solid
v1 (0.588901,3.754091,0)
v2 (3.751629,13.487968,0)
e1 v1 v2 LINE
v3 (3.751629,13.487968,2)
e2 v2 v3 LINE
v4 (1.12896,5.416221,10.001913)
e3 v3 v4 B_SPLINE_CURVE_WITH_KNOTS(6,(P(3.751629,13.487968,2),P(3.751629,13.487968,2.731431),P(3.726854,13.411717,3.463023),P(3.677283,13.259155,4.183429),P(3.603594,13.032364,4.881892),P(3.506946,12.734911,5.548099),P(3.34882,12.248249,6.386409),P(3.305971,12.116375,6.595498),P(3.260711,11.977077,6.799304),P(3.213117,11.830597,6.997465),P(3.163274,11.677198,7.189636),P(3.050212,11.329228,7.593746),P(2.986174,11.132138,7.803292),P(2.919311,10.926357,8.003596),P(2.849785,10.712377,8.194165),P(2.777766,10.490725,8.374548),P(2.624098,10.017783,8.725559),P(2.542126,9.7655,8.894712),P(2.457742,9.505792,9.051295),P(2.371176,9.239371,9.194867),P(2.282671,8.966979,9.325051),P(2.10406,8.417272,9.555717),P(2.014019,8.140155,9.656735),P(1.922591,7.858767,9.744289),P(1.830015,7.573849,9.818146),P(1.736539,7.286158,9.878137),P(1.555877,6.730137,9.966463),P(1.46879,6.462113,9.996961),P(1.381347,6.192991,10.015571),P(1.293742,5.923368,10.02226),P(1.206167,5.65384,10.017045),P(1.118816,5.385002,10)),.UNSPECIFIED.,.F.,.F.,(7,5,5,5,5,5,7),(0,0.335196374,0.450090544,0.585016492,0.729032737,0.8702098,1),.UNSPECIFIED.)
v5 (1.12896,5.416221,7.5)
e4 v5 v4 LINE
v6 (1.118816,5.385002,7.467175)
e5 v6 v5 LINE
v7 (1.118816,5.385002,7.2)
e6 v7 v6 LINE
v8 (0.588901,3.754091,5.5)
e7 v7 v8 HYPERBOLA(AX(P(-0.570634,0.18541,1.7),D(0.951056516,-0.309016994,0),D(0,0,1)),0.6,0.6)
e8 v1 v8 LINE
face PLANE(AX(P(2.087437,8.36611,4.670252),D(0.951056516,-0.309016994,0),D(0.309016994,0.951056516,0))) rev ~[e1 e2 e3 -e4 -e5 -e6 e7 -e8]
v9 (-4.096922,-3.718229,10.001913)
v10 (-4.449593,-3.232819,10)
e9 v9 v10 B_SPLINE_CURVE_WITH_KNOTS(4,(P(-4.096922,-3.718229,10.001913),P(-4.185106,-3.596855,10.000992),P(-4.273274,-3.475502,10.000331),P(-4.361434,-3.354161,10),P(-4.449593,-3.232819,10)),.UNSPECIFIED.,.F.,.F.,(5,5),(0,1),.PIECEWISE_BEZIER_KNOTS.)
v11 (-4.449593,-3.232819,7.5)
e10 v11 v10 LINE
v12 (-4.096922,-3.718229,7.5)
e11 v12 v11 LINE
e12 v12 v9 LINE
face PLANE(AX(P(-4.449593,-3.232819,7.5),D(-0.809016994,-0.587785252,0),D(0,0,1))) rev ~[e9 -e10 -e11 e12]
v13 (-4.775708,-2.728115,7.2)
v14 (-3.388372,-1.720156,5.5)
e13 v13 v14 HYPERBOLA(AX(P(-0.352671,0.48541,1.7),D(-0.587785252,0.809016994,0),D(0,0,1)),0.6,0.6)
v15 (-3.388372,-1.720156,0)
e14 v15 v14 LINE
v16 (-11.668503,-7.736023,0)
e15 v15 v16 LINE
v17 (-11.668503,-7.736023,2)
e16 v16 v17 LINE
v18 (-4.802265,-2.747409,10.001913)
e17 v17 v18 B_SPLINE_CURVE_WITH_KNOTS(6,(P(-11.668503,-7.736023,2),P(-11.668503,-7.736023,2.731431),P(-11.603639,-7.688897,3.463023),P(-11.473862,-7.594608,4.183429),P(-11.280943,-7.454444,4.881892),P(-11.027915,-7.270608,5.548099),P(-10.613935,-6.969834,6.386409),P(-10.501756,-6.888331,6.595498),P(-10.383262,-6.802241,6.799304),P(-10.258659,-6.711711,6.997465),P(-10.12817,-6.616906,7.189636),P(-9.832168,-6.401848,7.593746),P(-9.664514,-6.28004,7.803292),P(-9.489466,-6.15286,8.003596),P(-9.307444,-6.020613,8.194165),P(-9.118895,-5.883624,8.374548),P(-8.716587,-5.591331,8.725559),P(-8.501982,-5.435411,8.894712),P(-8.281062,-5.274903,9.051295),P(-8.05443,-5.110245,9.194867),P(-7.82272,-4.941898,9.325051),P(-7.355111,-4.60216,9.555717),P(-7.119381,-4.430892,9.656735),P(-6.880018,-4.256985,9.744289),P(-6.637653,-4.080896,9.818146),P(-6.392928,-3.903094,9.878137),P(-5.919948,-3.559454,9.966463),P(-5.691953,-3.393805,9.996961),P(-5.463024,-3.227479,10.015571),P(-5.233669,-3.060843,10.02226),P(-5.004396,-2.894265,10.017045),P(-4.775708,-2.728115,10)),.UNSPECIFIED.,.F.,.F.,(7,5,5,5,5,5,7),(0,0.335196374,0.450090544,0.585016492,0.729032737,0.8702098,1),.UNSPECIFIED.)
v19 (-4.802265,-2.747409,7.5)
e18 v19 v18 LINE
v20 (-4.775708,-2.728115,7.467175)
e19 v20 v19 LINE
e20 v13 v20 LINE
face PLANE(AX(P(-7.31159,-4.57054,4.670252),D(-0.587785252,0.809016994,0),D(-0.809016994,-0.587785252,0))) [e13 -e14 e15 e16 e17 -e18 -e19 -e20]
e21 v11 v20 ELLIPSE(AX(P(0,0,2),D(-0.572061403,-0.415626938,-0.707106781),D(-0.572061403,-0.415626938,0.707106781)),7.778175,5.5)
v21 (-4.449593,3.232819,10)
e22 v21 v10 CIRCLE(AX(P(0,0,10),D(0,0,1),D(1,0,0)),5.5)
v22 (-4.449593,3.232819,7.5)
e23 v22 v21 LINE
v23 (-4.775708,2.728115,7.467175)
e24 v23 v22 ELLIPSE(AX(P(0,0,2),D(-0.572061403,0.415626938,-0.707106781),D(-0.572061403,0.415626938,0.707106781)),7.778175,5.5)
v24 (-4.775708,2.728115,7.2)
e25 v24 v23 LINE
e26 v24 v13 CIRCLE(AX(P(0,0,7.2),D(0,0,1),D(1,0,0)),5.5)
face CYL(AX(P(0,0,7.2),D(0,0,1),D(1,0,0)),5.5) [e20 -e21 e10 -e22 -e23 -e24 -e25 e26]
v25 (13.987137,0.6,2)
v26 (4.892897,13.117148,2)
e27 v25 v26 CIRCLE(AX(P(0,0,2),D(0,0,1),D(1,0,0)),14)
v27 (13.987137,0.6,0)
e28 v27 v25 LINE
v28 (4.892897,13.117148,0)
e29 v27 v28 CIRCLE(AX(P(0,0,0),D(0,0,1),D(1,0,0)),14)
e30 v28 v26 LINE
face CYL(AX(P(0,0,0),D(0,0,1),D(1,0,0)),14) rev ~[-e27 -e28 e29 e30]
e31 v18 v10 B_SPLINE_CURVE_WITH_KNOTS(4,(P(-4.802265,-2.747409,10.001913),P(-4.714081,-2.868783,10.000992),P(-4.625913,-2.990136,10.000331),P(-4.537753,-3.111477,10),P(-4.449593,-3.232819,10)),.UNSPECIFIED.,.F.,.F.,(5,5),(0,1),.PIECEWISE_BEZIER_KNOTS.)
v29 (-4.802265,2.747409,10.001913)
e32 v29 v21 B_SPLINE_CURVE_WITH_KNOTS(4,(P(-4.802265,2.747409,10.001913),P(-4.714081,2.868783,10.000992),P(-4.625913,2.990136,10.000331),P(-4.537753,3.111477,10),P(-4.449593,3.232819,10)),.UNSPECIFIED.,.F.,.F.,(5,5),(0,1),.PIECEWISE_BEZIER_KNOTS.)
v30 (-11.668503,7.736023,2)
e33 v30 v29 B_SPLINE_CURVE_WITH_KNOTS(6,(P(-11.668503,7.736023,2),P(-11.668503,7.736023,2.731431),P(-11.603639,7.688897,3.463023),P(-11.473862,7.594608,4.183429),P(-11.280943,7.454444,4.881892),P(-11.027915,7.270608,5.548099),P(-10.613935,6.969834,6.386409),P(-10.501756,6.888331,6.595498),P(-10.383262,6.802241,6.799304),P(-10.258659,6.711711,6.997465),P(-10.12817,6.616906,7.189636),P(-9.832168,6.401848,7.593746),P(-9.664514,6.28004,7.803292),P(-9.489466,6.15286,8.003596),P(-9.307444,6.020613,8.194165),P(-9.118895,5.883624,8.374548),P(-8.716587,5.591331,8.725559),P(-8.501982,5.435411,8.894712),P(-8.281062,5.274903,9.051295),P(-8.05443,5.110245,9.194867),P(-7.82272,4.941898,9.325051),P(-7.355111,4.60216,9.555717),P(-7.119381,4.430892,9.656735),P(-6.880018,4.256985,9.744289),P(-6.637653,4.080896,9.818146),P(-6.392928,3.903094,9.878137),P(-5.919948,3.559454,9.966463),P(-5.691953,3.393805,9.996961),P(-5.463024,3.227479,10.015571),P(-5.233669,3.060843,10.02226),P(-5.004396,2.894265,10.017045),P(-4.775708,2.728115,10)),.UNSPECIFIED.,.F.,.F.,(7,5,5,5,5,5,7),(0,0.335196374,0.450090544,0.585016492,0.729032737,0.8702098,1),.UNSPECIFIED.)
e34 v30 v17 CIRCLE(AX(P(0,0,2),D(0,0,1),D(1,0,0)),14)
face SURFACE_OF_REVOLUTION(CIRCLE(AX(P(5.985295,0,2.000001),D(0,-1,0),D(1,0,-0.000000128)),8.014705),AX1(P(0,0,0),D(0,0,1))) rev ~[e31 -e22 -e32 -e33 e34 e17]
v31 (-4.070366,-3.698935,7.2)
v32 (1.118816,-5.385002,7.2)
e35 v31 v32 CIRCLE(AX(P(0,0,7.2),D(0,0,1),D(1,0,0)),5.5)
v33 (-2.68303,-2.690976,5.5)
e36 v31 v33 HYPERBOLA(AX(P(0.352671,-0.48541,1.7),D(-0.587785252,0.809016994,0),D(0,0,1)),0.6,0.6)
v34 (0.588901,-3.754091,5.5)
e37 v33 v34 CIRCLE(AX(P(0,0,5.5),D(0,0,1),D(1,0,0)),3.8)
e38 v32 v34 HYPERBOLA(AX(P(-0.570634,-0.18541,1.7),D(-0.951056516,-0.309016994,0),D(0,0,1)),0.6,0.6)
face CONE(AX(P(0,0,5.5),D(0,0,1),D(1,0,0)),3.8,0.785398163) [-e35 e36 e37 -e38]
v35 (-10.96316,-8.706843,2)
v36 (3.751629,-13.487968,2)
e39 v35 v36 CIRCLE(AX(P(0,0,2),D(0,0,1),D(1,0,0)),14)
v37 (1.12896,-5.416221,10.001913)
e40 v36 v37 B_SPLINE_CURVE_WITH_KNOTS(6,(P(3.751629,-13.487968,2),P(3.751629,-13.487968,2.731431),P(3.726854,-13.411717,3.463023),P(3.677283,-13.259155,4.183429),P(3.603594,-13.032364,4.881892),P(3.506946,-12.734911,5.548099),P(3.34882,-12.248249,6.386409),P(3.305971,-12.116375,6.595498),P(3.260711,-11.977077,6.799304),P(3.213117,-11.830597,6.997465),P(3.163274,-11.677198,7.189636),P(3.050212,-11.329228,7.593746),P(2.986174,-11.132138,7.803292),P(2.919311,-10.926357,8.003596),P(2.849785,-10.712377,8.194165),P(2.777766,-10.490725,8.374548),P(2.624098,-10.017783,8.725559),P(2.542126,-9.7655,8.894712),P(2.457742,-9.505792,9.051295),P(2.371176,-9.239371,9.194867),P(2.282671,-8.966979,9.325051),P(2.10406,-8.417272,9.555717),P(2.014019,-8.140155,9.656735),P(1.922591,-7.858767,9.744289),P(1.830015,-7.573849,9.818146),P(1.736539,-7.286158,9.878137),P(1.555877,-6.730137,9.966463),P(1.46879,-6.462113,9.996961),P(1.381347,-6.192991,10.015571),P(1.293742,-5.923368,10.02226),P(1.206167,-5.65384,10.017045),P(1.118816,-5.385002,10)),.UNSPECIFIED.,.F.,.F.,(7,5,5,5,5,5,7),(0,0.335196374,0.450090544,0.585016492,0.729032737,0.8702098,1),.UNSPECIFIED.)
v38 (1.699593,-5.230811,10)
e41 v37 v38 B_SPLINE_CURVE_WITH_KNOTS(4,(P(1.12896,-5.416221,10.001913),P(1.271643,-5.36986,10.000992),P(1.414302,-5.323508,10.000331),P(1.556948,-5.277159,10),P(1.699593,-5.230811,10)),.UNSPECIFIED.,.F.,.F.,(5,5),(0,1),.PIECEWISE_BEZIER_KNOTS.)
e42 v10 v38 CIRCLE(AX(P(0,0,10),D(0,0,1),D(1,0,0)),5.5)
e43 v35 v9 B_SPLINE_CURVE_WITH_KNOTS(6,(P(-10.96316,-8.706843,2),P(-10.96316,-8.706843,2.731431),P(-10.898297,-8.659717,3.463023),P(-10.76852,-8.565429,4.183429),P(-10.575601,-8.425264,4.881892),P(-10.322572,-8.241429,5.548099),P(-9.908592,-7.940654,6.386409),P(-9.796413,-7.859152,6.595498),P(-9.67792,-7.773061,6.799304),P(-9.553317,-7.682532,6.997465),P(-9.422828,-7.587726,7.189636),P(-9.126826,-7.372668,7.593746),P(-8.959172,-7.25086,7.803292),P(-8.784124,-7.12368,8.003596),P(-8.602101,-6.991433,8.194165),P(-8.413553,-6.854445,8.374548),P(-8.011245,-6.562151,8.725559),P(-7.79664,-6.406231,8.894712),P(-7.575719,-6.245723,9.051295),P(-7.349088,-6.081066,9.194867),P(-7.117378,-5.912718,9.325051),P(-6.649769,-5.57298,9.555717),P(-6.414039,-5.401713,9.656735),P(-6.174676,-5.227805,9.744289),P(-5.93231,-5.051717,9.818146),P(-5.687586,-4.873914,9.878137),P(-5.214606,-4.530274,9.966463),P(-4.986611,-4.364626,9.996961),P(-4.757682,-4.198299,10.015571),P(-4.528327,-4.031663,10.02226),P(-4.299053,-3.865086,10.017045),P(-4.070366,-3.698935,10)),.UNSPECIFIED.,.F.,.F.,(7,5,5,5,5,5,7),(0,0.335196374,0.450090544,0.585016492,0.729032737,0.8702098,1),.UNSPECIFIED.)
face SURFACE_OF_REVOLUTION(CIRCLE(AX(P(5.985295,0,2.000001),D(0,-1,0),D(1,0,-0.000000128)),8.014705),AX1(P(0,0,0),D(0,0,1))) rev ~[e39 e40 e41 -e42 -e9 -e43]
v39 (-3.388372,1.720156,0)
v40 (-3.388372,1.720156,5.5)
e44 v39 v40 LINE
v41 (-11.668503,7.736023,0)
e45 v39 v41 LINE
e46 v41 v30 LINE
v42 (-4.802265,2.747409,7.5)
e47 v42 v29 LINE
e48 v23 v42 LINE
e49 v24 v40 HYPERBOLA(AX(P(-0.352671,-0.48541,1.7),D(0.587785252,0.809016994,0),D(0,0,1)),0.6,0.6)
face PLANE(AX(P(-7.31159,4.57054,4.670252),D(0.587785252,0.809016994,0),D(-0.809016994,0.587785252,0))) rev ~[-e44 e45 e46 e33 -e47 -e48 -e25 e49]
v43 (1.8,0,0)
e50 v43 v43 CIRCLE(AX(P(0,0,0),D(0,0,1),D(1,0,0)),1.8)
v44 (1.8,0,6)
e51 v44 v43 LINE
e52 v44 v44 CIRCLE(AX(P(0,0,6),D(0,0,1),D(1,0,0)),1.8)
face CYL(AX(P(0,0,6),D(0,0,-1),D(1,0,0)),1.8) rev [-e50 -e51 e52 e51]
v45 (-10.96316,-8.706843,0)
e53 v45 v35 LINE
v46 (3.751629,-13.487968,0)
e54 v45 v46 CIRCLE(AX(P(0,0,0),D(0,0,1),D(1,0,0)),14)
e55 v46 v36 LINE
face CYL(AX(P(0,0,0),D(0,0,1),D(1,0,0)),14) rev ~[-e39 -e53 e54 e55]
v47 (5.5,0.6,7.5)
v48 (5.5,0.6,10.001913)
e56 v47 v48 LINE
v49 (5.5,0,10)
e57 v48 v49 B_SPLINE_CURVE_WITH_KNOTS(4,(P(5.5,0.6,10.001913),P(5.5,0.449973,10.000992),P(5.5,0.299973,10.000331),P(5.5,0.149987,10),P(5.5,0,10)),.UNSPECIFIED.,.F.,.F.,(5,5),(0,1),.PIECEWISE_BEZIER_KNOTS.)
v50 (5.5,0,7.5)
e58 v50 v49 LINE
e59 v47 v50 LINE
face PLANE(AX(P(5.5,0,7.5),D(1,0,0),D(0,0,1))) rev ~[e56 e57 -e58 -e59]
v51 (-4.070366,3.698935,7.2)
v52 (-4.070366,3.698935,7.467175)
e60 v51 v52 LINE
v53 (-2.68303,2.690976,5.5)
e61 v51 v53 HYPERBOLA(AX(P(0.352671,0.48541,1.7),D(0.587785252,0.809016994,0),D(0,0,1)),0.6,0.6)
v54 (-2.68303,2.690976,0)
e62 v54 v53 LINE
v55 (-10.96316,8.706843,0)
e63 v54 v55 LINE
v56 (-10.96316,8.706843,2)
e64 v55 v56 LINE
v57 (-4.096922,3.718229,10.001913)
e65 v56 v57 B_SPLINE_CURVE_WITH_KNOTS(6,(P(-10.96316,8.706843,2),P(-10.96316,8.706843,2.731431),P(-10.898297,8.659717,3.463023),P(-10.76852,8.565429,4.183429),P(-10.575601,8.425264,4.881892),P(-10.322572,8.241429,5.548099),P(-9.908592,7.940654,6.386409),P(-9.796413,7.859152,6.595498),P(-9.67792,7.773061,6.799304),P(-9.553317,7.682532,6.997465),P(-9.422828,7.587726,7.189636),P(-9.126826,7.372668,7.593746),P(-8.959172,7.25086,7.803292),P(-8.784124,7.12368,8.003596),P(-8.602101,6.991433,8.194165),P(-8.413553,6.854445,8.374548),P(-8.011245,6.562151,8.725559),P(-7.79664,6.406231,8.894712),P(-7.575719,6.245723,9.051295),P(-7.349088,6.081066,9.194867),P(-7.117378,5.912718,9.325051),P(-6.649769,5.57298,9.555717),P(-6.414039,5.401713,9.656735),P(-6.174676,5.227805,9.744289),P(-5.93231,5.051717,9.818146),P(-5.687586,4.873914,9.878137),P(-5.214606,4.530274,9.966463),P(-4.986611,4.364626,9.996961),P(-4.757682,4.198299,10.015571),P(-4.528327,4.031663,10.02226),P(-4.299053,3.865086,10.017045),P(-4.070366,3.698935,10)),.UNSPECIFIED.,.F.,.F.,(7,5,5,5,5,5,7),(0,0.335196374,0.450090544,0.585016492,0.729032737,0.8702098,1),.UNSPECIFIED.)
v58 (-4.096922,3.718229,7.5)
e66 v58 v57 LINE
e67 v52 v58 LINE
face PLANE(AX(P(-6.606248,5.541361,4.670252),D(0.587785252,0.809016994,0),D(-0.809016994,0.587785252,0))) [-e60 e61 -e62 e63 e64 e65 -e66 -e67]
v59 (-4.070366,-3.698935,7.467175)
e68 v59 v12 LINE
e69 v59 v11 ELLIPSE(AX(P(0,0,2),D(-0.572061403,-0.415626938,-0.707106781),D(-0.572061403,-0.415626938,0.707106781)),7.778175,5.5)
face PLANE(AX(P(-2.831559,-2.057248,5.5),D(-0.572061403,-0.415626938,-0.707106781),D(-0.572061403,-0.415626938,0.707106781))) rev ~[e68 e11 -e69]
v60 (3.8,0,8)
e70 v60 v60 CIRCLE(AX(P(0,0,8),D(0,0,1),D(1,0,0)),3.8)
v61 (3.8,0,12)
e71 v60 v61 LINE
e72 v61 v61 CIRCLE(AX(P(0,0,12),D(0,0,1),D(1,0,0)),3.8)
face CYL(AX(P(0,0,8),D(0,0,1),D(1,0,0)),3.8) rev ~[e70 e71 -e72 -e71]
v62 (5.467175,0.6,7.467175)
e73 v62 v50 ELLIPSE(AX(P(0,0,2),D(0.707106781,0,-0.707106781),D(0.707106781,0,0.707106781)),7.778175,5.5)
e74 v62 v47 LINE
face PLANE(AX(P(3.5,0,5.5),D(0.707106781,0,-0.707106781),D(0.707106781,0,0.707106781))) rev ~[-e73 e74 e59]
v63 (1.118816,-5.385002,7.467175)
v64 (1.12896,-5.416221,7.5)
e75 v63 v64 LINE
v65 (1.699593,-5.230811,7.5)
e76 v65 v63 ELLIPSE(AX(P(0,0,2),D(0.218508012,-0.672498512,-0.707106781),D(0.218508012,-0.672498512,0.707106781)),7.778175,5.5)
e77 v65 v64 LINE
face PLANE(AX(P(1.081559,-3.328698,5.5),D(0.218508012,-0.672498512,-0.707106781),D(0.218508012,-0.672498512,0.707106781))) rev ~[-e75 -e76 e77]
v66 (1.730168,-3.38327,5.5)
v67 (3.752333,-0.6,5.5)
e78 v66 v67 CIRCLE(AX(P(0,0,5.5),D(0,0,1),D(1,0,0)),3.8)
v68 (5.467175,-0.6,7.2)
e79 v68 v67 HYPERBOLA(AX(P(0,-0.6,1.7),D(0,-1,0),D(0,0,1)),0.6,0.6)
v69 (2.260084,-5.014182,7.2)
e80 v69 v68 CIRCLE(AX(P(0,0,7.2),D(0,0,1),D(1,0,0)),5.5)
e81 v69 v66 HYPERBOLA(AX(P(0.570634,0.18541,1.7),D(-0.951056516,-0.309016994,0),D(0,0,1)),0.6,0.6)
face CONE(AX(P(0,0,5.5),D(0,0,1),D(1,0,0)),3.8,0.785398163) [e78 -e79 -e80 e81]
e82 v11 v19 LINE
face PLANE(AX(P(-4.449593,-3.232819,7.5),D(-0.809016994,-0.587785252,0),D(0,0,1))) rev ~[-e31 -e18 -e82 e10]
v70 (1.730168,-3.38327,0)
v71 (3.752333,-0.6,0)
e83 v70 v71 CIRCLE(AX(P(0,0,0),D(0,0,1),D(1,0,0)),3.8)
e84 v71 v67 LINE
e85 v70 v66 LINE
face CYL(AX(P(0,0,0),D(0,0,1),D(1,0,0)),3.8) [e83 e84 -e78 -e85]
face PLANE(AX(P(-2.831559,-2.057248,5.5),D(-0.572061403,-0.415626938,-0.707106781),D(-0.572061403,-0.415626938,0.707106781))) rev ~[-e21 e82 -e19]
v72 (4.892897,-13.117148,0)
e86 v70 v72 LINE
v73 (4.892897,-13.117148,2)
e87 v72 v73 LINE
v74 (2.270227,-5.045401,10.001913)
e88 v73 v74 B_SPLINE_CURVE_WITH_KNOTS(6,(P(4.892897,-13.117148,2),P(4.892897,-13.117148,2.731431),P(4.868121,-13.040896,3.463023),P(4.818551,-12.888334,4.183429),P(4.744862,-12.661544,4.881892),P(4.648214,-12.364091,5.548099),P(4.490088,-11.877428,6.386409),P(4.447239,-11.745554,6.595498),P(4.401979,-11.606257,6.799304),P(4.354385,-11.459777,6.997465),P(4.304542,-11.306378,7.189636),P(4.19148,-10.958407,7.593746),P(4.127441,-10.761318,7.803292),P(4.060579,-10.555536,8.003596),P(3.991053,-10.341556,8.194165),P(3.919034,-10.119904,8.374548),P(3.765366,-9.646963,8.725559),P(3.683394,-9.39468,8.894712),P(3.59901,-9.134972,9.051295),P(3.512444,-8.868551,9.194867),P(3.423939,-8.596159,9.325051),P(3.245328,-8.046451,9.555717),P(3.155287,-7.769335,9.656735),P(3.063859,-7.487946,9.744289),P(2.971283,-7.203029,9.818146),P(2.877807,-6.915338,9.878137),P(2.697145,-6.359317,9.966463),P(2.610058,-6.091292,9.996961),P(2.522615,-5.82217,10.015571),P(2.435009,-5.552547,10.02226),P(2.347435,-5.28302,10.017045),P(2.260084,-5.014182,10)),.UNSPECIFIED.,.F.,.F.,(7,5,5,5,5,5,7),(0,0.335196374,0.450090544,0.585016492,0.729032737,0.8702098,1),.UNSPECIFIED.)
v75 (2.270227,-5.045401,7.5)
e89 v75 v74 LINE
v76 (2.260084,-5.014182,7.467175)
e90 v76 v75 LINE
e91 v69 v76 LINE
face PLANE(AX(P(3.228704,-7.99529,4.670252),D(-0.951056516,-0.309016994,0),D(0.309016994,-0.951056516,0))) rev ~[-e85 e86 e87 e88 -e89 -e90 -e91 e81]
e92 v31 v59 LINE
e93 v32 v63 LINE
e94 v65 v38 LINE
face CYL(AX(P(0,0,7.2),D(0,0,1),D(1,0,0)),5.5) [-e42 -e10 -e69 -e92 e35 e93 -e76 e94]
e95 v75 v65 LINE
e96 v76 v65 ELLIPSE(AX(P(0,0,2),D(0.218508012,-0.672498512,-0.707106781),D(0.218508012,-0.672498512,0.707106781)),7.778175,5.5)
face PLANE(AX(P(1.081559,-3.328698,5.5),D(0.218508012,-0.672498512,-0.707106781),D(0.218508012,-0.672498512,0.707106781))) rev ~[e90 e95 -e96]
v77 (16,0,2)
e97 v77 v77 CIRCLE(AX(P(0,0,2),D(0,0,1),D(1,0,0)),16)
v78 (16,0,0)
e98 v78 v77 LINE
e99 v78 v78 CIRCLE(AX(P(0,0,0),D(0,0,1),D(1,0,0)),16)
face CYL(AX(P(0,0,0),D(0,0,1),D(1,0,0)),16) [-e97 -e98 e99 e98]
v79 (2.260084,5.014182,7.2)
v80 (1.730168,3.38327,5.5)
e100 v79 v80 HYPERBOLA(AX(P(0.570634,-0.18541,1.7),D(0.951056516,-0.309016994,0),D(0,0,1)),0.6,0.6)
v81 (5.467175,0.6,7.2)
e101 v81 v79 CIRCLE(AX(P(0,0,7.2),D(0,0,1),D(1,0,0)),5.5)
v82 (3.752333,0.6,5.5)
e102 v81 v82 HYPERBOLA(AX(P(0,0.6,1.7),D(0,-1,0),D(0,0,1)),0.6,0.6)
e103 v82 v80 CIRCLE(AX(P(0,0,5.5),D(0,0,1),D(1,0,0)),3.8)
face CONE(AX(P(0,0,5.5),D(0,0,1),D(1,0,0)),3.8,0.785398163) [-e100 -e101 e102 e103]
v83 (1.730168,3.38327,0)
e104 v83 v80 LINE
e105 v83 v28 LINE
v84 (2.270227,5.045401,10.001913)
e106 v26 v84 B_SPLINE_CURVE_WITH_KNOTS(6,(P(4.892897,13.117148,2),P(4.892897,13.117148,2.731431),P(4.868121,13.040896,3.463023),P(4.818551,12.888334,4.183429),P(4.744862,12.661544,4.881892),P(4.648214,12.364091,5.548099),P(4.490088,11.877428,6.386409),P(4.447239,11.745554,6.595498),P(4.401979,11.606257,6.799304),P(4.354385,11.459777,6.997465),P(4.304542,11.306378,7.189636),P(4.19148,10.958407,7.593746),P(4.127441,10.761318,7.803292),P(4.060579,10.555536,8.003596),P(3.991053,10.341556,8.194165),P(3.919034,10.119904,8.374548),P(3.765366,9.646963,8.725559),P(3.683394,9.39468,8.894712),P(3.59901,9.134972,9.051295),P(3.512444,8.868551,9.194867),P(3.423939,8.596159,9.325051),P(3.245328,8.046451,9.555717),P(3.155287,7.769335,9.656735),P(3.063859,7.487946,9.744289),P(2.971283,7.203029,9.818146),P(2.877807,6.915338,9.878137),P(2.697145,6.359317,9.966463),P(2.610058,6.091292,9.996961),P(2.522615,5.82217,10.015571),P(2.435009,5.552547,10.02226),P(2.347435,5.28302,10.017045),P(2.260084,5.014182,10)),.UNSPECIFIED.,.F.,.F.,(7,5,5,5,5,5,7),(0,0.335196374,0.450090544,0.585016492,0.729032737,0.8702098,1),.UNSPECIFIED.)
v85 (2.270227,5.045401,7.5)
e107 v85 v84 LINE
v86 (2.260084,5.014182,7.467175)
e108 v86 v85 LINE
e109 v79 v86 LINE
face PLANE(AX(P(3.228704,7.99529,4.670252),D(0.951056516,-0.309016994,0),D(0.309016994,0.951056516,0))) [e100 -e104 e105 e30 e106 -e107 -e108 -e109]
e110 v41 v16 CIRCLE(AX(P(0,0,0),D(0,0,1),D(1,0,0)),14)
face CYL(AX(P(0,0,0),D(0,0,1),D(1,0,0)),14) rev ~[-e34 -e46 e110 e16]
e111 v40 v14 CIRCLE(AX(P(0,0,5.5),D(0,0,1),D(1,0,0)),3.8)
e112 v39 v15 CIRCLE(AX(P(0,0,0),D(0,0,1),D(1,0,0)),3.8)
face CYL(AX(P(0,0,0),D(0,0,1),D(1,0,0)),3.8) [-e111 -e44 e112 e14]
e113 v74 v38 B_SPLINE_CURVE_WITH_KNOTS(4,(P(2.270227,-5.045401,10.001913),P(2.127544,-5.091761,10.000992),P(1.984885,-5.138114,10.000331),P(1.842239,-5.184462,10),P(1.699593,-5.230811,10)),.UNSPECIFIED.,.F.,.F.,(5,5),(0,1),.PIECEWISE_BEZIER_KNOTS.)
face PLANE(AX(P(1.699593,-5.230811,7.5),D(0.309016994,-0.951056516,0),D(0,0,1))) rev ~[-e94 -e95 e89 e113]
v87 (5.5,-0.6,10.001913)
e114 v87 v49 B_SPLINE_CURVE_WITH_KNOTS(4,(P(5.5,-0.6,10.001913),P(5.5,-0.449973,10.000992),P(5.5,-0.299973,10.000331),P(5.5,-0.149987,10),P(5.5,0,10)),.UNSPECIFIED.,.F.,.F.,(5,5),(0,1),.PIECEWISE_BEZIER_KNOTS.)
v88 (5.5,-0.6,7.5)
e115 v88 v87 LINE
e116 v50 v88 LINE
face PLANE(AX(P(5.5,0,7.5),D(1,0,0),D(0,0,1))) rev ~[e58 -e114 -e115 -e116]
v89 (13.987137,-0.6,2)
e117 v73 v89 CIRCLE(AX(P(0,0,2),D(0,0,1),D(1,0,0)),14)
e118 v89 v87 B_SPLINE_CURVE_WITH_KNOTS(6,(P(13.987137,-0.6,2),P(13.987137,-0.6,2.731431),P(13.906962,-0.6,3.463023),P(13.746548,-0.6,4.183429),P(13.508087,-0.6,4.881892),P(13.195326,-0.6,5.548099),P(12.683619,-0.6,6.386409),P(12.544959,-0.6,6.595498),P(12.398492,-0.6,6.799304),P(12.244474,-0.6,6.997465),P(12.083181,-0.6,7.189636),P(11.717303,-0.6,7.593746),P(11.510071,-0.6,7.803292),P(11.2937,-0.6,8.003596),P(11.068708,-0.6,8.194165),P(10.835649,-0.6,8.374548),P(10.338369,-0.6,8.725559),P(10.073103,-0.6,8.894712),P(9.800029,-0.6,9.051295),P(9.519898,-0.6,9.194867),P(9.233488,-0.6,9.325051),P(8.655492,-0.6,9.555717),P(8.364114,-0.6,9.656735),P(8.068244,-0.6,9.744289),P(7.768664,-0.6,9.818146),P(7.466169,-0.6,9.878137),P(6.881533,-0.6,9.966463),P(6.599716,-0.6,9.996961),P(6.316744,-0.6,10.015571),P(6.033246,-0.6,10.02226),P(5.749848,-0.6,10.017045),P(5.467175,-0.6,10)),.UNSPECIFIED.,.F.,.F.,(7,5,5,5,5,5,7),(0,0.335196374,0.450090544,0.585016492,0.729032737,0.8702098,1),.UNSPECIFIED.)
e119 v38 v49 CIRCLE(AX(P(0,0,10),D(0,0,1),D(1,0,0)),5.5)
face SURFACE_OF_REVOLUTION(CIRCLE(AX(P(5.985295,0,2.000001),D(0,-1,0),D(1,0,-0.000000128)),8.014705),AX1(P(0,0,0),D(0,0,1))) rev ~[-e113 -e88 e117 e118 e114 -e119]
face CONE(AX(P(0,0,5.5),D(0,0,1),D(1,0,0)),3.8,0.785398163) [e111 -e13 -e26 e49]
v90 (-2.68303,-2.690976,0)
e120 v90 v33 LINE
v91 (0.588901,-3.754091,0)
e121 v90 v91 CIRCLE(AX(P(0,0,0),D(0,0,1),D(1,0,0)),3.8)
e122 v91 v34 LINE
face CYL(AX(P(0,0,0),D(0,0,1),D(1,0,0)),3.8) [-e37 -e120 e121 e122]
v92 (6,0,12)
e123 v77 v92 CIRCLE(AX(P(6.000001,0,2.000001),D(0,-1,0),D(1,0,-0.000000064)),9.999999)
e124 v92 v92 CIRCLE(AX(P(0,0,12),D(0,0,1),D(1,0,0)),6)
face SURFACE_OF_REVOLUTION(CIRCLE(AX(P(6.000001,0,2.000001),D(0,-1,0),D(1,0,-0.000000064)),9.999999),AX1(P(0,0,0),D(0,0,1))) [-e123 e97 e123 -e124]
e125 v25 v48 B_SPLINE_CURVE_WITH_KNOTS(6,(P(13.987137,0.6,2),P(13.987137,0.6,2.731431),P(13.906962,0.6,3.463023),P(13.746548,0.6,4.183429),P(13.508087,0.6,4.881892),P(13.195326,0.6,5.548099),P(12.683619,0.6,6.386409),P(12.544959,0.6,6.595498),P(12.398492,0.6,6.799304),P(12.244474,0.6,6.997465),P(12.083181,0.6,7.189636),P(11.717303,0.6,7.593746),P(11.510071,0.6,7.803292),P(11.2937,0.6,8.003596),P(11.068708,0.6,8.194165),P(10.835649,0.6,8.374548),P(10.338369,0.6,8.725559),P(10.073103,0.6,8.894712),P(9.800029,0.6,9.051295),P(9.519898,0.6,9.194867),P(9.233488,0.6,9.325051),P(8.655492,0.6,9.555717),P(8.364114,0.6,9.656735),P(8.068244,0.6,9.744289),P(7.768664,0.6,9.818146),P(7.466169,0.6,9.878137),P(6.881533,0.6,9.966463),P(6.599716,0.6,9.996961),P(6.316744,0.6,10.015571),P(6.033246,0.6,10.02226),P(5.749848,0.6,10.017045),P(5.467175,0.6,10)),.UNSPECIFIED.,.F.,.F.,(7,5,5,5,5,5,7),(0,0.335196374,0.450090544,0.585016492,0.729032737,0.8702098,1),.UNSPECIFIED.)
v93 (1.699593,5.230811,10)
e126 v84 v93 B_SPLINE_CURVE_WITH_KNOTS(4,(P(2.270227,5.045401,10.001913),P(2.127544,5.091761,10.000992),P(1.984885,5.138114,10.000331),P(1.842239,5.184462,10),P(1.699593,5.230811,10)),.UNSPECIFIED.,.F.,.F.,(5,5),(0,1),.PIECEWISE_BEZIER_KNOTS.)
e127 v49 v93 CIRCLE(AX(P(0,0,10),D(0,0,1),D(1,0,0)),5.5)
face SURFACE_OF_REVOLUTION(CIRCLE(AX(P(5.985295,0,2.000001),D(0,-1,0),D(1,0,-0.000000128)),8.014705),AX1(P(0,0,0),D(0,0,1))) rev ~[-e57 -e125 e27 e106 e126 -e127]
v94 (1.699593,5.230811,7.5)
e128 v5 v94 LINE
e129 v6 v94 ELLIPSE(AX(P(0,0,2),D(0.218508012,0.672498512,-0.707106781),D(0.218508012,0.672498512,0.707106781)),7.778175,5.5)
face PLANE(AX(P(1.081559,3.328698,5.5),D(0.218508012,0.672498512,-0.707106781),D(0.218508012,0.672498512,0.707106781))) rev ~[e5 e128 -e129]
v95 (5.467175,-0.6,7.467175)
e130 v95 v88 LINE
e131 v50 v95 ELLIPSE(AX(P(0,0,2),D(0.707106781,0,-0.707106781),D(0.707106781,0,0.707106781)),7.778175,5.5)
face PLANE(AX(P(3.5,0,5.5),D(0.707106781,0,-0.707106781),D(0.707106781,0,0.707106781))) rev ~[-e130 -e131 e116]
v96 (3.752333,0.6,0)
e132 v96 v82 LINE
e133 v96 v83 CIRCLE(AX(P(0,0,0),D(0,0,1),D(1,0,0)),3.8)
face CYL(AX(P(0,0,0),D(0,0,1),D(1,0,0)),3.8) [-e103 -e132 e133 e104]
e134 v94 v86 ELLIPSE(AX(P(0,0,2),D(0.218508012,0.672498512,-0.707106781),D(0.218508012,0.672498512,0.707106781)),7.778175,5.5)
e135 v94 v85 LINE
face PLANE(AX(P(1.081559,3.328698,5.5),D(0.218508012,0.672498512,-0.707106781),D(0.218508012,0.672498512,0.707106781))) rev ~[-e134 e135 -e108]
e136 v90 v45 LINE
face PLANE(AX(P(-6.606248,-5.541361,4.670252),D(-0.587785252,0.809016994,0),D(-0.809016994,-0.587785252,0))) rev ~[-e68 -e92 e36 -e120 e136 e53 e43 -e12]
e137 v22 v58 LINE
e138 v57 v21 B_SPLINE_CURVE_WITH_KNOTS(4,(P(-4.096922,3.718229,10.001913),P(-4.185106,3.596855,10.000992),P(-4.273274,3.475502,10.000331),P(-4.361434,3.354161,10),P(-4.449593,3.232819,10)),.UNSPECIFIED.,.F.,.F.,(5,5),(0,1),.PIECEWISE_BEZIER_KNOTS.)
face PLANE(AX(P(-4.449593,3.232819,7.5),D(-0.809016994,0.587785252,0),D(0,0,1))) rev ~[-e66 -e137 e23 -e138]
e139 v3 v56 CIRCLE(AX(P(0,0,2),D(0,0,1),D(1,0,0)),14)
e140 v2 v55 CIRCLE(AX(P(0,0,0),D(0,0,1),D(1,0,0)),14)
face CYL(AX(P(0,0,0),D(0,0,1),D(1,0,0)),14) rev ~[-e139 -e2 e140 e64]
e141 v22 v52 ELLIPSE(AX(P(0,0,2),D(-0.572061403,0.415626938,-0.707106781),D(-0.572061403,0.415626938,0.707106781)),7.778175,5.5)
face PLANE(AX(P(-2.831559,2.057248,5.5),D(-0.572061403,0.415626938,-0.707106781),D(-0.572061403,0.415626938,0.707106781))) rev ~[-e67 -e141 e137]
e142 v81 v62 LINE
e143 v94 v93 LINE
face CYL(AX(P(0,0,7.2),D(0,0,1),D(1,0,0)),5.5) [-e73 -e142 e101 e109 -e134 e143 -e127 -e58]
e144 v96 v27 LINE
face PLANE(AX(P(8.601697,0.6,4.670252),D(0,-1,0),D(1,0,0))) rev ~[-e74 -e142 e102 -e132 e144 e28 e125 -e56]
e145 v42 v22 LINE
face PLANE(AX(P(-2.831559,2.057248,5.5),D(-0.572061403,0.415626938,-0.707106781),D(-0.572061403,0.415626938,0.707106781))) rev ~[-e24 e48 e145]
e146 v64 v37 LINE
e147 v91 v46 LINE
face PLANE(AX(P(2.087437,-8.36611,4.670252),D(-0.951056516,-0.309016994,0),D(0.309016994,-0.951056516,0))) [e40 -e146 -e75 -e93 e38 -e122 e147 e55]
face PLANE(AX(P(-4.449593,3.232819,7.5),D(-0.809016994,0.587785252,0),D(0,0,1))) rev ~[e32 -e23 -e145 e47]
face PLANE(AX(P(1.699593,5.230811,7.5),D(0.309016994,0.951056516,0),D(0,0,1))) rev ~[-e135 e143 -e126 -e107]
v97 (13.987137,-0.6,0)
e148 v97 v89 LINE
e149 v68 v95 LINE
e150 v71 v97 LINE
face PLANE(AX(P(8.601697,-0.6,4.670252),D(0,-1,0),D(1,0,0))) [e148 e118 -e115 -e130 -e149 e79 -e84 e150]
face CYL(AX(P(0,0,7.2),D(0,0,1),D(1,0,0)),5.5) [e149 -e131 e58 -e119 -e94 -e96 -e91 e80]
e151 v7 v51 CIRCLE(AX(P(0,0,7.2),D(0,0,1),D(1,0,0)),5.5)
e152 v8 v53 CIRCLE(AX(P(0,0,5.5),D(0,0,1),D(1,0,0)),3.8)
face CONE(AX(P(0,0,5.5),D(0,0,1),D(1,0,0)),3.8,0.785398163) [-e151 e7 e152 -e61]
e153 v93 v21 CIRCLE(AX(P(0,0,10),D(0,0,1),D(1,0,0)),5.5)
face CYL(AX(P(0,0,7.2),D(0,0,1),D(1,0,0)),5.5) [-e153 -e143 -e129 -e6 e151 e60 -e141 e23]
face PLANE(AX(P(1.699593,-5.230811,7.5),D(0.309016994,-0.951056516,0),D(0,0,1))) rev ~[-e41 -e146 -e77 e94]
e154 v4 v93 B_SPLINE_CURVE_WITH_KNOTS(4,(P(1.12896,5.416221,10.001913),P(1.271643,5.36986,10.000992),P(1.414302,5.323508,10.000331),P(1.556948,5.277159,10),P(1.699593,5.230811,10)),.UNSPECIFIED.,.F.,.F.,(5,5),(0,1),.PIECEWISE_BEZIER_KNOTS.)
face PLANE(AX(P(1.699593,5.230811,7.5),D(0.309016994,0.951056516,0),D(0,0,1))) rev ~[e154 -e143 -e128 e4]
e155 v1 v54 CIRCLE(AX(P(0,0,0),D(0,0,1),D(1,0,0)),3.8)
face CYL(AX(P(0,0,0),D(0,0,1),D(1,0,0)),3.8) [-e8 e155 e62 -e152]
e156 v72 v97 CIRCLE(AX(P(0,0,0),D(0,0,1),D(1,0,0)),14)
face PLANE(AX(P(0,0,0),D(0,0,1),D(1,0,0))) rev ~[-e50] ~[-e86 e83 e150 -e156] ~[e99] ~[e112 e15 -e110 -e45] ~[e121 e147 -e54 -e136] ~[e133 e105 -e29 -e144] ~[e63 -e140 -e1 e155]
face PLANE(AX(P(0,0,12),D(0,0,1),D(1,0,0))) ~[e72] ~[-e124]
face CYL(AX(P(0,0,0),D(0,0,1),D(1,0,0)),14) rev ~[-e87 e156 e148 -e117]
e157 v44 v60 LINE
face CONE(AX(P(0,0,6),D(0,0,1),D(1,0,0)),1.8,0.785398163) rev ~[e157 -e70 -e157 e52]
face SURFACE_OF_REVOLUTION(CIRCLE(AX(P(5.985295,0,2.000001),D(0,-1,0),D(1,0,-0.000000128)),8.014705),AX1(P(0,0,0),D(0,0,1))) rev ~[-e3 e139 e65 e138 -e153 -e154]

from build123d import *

# Parameters (mm, degrees)
PAD_DEPTH          = 0.6
POLARPATTERN_COUNT = 5


with BuildPart() as part:
    # Sketch → Revolution (revolve)
    with BuildSketch(Plane.XZ):
        with BuildLine():
            Line((16, 0), (16, 2))
            ThreePointArc((16, 2), (13.071068, 9.071068), (6, 12))
            Line((3.8, 12), (6, 12))
            Line((3.8, 8), (3.8, 12))
            Line((1.8, 6), (3.8, 8))
            Line((1.8, 6), (1.8, 0))
            Line((1.8, 0), (3.8, 0))
            Line((3.8, 0), (3.8, 5.5))
            Line((3.8, 5.5), (5.5, 7.2))
            Line((5.5, 7.2), (5.5, 10))
            ThreePointArc((14, 2), (11.478291, 7.836309), (5.5, 10))
            Line((14, 0), (14, 2))
            Line((16, 0), (14, 0))
        make_face()
    revolve(axis=Axis((0, 0, 0), (0, 0, 1)))

    # Sketch001 → Pad (new body, symmetric)
    with BuildSketch(Plane.XZ):
        with BuildLine():
            Line((14.5, 0), (14.5, 2))
            ThreePointArc((14.5, 2), (11.892744, 8.543126), (5.5, 11.5))
            Line((5.5, 7.5), (5.5, 11.5))
            Line((3.5, 5.5), (5.5, 7.5))
            Line((3.5, 0), (3.5, 5.5))
            Line((3.5, 0), (14.5, 0))
        make_face()
    pad = extrude(amount=PAD_DEPTH, both=True)

    # PolarPattern: Pad ×5 about axis
    polarpattern_axis = Axis((0, 0, 0), (0, 0, 1))
    for i in range(1, POLARPATTERN_COUNT):
        add(pad.rotate(polarpattern_axis, i * 360 / POLARPATTERN_COUNT))


solid = part.part
